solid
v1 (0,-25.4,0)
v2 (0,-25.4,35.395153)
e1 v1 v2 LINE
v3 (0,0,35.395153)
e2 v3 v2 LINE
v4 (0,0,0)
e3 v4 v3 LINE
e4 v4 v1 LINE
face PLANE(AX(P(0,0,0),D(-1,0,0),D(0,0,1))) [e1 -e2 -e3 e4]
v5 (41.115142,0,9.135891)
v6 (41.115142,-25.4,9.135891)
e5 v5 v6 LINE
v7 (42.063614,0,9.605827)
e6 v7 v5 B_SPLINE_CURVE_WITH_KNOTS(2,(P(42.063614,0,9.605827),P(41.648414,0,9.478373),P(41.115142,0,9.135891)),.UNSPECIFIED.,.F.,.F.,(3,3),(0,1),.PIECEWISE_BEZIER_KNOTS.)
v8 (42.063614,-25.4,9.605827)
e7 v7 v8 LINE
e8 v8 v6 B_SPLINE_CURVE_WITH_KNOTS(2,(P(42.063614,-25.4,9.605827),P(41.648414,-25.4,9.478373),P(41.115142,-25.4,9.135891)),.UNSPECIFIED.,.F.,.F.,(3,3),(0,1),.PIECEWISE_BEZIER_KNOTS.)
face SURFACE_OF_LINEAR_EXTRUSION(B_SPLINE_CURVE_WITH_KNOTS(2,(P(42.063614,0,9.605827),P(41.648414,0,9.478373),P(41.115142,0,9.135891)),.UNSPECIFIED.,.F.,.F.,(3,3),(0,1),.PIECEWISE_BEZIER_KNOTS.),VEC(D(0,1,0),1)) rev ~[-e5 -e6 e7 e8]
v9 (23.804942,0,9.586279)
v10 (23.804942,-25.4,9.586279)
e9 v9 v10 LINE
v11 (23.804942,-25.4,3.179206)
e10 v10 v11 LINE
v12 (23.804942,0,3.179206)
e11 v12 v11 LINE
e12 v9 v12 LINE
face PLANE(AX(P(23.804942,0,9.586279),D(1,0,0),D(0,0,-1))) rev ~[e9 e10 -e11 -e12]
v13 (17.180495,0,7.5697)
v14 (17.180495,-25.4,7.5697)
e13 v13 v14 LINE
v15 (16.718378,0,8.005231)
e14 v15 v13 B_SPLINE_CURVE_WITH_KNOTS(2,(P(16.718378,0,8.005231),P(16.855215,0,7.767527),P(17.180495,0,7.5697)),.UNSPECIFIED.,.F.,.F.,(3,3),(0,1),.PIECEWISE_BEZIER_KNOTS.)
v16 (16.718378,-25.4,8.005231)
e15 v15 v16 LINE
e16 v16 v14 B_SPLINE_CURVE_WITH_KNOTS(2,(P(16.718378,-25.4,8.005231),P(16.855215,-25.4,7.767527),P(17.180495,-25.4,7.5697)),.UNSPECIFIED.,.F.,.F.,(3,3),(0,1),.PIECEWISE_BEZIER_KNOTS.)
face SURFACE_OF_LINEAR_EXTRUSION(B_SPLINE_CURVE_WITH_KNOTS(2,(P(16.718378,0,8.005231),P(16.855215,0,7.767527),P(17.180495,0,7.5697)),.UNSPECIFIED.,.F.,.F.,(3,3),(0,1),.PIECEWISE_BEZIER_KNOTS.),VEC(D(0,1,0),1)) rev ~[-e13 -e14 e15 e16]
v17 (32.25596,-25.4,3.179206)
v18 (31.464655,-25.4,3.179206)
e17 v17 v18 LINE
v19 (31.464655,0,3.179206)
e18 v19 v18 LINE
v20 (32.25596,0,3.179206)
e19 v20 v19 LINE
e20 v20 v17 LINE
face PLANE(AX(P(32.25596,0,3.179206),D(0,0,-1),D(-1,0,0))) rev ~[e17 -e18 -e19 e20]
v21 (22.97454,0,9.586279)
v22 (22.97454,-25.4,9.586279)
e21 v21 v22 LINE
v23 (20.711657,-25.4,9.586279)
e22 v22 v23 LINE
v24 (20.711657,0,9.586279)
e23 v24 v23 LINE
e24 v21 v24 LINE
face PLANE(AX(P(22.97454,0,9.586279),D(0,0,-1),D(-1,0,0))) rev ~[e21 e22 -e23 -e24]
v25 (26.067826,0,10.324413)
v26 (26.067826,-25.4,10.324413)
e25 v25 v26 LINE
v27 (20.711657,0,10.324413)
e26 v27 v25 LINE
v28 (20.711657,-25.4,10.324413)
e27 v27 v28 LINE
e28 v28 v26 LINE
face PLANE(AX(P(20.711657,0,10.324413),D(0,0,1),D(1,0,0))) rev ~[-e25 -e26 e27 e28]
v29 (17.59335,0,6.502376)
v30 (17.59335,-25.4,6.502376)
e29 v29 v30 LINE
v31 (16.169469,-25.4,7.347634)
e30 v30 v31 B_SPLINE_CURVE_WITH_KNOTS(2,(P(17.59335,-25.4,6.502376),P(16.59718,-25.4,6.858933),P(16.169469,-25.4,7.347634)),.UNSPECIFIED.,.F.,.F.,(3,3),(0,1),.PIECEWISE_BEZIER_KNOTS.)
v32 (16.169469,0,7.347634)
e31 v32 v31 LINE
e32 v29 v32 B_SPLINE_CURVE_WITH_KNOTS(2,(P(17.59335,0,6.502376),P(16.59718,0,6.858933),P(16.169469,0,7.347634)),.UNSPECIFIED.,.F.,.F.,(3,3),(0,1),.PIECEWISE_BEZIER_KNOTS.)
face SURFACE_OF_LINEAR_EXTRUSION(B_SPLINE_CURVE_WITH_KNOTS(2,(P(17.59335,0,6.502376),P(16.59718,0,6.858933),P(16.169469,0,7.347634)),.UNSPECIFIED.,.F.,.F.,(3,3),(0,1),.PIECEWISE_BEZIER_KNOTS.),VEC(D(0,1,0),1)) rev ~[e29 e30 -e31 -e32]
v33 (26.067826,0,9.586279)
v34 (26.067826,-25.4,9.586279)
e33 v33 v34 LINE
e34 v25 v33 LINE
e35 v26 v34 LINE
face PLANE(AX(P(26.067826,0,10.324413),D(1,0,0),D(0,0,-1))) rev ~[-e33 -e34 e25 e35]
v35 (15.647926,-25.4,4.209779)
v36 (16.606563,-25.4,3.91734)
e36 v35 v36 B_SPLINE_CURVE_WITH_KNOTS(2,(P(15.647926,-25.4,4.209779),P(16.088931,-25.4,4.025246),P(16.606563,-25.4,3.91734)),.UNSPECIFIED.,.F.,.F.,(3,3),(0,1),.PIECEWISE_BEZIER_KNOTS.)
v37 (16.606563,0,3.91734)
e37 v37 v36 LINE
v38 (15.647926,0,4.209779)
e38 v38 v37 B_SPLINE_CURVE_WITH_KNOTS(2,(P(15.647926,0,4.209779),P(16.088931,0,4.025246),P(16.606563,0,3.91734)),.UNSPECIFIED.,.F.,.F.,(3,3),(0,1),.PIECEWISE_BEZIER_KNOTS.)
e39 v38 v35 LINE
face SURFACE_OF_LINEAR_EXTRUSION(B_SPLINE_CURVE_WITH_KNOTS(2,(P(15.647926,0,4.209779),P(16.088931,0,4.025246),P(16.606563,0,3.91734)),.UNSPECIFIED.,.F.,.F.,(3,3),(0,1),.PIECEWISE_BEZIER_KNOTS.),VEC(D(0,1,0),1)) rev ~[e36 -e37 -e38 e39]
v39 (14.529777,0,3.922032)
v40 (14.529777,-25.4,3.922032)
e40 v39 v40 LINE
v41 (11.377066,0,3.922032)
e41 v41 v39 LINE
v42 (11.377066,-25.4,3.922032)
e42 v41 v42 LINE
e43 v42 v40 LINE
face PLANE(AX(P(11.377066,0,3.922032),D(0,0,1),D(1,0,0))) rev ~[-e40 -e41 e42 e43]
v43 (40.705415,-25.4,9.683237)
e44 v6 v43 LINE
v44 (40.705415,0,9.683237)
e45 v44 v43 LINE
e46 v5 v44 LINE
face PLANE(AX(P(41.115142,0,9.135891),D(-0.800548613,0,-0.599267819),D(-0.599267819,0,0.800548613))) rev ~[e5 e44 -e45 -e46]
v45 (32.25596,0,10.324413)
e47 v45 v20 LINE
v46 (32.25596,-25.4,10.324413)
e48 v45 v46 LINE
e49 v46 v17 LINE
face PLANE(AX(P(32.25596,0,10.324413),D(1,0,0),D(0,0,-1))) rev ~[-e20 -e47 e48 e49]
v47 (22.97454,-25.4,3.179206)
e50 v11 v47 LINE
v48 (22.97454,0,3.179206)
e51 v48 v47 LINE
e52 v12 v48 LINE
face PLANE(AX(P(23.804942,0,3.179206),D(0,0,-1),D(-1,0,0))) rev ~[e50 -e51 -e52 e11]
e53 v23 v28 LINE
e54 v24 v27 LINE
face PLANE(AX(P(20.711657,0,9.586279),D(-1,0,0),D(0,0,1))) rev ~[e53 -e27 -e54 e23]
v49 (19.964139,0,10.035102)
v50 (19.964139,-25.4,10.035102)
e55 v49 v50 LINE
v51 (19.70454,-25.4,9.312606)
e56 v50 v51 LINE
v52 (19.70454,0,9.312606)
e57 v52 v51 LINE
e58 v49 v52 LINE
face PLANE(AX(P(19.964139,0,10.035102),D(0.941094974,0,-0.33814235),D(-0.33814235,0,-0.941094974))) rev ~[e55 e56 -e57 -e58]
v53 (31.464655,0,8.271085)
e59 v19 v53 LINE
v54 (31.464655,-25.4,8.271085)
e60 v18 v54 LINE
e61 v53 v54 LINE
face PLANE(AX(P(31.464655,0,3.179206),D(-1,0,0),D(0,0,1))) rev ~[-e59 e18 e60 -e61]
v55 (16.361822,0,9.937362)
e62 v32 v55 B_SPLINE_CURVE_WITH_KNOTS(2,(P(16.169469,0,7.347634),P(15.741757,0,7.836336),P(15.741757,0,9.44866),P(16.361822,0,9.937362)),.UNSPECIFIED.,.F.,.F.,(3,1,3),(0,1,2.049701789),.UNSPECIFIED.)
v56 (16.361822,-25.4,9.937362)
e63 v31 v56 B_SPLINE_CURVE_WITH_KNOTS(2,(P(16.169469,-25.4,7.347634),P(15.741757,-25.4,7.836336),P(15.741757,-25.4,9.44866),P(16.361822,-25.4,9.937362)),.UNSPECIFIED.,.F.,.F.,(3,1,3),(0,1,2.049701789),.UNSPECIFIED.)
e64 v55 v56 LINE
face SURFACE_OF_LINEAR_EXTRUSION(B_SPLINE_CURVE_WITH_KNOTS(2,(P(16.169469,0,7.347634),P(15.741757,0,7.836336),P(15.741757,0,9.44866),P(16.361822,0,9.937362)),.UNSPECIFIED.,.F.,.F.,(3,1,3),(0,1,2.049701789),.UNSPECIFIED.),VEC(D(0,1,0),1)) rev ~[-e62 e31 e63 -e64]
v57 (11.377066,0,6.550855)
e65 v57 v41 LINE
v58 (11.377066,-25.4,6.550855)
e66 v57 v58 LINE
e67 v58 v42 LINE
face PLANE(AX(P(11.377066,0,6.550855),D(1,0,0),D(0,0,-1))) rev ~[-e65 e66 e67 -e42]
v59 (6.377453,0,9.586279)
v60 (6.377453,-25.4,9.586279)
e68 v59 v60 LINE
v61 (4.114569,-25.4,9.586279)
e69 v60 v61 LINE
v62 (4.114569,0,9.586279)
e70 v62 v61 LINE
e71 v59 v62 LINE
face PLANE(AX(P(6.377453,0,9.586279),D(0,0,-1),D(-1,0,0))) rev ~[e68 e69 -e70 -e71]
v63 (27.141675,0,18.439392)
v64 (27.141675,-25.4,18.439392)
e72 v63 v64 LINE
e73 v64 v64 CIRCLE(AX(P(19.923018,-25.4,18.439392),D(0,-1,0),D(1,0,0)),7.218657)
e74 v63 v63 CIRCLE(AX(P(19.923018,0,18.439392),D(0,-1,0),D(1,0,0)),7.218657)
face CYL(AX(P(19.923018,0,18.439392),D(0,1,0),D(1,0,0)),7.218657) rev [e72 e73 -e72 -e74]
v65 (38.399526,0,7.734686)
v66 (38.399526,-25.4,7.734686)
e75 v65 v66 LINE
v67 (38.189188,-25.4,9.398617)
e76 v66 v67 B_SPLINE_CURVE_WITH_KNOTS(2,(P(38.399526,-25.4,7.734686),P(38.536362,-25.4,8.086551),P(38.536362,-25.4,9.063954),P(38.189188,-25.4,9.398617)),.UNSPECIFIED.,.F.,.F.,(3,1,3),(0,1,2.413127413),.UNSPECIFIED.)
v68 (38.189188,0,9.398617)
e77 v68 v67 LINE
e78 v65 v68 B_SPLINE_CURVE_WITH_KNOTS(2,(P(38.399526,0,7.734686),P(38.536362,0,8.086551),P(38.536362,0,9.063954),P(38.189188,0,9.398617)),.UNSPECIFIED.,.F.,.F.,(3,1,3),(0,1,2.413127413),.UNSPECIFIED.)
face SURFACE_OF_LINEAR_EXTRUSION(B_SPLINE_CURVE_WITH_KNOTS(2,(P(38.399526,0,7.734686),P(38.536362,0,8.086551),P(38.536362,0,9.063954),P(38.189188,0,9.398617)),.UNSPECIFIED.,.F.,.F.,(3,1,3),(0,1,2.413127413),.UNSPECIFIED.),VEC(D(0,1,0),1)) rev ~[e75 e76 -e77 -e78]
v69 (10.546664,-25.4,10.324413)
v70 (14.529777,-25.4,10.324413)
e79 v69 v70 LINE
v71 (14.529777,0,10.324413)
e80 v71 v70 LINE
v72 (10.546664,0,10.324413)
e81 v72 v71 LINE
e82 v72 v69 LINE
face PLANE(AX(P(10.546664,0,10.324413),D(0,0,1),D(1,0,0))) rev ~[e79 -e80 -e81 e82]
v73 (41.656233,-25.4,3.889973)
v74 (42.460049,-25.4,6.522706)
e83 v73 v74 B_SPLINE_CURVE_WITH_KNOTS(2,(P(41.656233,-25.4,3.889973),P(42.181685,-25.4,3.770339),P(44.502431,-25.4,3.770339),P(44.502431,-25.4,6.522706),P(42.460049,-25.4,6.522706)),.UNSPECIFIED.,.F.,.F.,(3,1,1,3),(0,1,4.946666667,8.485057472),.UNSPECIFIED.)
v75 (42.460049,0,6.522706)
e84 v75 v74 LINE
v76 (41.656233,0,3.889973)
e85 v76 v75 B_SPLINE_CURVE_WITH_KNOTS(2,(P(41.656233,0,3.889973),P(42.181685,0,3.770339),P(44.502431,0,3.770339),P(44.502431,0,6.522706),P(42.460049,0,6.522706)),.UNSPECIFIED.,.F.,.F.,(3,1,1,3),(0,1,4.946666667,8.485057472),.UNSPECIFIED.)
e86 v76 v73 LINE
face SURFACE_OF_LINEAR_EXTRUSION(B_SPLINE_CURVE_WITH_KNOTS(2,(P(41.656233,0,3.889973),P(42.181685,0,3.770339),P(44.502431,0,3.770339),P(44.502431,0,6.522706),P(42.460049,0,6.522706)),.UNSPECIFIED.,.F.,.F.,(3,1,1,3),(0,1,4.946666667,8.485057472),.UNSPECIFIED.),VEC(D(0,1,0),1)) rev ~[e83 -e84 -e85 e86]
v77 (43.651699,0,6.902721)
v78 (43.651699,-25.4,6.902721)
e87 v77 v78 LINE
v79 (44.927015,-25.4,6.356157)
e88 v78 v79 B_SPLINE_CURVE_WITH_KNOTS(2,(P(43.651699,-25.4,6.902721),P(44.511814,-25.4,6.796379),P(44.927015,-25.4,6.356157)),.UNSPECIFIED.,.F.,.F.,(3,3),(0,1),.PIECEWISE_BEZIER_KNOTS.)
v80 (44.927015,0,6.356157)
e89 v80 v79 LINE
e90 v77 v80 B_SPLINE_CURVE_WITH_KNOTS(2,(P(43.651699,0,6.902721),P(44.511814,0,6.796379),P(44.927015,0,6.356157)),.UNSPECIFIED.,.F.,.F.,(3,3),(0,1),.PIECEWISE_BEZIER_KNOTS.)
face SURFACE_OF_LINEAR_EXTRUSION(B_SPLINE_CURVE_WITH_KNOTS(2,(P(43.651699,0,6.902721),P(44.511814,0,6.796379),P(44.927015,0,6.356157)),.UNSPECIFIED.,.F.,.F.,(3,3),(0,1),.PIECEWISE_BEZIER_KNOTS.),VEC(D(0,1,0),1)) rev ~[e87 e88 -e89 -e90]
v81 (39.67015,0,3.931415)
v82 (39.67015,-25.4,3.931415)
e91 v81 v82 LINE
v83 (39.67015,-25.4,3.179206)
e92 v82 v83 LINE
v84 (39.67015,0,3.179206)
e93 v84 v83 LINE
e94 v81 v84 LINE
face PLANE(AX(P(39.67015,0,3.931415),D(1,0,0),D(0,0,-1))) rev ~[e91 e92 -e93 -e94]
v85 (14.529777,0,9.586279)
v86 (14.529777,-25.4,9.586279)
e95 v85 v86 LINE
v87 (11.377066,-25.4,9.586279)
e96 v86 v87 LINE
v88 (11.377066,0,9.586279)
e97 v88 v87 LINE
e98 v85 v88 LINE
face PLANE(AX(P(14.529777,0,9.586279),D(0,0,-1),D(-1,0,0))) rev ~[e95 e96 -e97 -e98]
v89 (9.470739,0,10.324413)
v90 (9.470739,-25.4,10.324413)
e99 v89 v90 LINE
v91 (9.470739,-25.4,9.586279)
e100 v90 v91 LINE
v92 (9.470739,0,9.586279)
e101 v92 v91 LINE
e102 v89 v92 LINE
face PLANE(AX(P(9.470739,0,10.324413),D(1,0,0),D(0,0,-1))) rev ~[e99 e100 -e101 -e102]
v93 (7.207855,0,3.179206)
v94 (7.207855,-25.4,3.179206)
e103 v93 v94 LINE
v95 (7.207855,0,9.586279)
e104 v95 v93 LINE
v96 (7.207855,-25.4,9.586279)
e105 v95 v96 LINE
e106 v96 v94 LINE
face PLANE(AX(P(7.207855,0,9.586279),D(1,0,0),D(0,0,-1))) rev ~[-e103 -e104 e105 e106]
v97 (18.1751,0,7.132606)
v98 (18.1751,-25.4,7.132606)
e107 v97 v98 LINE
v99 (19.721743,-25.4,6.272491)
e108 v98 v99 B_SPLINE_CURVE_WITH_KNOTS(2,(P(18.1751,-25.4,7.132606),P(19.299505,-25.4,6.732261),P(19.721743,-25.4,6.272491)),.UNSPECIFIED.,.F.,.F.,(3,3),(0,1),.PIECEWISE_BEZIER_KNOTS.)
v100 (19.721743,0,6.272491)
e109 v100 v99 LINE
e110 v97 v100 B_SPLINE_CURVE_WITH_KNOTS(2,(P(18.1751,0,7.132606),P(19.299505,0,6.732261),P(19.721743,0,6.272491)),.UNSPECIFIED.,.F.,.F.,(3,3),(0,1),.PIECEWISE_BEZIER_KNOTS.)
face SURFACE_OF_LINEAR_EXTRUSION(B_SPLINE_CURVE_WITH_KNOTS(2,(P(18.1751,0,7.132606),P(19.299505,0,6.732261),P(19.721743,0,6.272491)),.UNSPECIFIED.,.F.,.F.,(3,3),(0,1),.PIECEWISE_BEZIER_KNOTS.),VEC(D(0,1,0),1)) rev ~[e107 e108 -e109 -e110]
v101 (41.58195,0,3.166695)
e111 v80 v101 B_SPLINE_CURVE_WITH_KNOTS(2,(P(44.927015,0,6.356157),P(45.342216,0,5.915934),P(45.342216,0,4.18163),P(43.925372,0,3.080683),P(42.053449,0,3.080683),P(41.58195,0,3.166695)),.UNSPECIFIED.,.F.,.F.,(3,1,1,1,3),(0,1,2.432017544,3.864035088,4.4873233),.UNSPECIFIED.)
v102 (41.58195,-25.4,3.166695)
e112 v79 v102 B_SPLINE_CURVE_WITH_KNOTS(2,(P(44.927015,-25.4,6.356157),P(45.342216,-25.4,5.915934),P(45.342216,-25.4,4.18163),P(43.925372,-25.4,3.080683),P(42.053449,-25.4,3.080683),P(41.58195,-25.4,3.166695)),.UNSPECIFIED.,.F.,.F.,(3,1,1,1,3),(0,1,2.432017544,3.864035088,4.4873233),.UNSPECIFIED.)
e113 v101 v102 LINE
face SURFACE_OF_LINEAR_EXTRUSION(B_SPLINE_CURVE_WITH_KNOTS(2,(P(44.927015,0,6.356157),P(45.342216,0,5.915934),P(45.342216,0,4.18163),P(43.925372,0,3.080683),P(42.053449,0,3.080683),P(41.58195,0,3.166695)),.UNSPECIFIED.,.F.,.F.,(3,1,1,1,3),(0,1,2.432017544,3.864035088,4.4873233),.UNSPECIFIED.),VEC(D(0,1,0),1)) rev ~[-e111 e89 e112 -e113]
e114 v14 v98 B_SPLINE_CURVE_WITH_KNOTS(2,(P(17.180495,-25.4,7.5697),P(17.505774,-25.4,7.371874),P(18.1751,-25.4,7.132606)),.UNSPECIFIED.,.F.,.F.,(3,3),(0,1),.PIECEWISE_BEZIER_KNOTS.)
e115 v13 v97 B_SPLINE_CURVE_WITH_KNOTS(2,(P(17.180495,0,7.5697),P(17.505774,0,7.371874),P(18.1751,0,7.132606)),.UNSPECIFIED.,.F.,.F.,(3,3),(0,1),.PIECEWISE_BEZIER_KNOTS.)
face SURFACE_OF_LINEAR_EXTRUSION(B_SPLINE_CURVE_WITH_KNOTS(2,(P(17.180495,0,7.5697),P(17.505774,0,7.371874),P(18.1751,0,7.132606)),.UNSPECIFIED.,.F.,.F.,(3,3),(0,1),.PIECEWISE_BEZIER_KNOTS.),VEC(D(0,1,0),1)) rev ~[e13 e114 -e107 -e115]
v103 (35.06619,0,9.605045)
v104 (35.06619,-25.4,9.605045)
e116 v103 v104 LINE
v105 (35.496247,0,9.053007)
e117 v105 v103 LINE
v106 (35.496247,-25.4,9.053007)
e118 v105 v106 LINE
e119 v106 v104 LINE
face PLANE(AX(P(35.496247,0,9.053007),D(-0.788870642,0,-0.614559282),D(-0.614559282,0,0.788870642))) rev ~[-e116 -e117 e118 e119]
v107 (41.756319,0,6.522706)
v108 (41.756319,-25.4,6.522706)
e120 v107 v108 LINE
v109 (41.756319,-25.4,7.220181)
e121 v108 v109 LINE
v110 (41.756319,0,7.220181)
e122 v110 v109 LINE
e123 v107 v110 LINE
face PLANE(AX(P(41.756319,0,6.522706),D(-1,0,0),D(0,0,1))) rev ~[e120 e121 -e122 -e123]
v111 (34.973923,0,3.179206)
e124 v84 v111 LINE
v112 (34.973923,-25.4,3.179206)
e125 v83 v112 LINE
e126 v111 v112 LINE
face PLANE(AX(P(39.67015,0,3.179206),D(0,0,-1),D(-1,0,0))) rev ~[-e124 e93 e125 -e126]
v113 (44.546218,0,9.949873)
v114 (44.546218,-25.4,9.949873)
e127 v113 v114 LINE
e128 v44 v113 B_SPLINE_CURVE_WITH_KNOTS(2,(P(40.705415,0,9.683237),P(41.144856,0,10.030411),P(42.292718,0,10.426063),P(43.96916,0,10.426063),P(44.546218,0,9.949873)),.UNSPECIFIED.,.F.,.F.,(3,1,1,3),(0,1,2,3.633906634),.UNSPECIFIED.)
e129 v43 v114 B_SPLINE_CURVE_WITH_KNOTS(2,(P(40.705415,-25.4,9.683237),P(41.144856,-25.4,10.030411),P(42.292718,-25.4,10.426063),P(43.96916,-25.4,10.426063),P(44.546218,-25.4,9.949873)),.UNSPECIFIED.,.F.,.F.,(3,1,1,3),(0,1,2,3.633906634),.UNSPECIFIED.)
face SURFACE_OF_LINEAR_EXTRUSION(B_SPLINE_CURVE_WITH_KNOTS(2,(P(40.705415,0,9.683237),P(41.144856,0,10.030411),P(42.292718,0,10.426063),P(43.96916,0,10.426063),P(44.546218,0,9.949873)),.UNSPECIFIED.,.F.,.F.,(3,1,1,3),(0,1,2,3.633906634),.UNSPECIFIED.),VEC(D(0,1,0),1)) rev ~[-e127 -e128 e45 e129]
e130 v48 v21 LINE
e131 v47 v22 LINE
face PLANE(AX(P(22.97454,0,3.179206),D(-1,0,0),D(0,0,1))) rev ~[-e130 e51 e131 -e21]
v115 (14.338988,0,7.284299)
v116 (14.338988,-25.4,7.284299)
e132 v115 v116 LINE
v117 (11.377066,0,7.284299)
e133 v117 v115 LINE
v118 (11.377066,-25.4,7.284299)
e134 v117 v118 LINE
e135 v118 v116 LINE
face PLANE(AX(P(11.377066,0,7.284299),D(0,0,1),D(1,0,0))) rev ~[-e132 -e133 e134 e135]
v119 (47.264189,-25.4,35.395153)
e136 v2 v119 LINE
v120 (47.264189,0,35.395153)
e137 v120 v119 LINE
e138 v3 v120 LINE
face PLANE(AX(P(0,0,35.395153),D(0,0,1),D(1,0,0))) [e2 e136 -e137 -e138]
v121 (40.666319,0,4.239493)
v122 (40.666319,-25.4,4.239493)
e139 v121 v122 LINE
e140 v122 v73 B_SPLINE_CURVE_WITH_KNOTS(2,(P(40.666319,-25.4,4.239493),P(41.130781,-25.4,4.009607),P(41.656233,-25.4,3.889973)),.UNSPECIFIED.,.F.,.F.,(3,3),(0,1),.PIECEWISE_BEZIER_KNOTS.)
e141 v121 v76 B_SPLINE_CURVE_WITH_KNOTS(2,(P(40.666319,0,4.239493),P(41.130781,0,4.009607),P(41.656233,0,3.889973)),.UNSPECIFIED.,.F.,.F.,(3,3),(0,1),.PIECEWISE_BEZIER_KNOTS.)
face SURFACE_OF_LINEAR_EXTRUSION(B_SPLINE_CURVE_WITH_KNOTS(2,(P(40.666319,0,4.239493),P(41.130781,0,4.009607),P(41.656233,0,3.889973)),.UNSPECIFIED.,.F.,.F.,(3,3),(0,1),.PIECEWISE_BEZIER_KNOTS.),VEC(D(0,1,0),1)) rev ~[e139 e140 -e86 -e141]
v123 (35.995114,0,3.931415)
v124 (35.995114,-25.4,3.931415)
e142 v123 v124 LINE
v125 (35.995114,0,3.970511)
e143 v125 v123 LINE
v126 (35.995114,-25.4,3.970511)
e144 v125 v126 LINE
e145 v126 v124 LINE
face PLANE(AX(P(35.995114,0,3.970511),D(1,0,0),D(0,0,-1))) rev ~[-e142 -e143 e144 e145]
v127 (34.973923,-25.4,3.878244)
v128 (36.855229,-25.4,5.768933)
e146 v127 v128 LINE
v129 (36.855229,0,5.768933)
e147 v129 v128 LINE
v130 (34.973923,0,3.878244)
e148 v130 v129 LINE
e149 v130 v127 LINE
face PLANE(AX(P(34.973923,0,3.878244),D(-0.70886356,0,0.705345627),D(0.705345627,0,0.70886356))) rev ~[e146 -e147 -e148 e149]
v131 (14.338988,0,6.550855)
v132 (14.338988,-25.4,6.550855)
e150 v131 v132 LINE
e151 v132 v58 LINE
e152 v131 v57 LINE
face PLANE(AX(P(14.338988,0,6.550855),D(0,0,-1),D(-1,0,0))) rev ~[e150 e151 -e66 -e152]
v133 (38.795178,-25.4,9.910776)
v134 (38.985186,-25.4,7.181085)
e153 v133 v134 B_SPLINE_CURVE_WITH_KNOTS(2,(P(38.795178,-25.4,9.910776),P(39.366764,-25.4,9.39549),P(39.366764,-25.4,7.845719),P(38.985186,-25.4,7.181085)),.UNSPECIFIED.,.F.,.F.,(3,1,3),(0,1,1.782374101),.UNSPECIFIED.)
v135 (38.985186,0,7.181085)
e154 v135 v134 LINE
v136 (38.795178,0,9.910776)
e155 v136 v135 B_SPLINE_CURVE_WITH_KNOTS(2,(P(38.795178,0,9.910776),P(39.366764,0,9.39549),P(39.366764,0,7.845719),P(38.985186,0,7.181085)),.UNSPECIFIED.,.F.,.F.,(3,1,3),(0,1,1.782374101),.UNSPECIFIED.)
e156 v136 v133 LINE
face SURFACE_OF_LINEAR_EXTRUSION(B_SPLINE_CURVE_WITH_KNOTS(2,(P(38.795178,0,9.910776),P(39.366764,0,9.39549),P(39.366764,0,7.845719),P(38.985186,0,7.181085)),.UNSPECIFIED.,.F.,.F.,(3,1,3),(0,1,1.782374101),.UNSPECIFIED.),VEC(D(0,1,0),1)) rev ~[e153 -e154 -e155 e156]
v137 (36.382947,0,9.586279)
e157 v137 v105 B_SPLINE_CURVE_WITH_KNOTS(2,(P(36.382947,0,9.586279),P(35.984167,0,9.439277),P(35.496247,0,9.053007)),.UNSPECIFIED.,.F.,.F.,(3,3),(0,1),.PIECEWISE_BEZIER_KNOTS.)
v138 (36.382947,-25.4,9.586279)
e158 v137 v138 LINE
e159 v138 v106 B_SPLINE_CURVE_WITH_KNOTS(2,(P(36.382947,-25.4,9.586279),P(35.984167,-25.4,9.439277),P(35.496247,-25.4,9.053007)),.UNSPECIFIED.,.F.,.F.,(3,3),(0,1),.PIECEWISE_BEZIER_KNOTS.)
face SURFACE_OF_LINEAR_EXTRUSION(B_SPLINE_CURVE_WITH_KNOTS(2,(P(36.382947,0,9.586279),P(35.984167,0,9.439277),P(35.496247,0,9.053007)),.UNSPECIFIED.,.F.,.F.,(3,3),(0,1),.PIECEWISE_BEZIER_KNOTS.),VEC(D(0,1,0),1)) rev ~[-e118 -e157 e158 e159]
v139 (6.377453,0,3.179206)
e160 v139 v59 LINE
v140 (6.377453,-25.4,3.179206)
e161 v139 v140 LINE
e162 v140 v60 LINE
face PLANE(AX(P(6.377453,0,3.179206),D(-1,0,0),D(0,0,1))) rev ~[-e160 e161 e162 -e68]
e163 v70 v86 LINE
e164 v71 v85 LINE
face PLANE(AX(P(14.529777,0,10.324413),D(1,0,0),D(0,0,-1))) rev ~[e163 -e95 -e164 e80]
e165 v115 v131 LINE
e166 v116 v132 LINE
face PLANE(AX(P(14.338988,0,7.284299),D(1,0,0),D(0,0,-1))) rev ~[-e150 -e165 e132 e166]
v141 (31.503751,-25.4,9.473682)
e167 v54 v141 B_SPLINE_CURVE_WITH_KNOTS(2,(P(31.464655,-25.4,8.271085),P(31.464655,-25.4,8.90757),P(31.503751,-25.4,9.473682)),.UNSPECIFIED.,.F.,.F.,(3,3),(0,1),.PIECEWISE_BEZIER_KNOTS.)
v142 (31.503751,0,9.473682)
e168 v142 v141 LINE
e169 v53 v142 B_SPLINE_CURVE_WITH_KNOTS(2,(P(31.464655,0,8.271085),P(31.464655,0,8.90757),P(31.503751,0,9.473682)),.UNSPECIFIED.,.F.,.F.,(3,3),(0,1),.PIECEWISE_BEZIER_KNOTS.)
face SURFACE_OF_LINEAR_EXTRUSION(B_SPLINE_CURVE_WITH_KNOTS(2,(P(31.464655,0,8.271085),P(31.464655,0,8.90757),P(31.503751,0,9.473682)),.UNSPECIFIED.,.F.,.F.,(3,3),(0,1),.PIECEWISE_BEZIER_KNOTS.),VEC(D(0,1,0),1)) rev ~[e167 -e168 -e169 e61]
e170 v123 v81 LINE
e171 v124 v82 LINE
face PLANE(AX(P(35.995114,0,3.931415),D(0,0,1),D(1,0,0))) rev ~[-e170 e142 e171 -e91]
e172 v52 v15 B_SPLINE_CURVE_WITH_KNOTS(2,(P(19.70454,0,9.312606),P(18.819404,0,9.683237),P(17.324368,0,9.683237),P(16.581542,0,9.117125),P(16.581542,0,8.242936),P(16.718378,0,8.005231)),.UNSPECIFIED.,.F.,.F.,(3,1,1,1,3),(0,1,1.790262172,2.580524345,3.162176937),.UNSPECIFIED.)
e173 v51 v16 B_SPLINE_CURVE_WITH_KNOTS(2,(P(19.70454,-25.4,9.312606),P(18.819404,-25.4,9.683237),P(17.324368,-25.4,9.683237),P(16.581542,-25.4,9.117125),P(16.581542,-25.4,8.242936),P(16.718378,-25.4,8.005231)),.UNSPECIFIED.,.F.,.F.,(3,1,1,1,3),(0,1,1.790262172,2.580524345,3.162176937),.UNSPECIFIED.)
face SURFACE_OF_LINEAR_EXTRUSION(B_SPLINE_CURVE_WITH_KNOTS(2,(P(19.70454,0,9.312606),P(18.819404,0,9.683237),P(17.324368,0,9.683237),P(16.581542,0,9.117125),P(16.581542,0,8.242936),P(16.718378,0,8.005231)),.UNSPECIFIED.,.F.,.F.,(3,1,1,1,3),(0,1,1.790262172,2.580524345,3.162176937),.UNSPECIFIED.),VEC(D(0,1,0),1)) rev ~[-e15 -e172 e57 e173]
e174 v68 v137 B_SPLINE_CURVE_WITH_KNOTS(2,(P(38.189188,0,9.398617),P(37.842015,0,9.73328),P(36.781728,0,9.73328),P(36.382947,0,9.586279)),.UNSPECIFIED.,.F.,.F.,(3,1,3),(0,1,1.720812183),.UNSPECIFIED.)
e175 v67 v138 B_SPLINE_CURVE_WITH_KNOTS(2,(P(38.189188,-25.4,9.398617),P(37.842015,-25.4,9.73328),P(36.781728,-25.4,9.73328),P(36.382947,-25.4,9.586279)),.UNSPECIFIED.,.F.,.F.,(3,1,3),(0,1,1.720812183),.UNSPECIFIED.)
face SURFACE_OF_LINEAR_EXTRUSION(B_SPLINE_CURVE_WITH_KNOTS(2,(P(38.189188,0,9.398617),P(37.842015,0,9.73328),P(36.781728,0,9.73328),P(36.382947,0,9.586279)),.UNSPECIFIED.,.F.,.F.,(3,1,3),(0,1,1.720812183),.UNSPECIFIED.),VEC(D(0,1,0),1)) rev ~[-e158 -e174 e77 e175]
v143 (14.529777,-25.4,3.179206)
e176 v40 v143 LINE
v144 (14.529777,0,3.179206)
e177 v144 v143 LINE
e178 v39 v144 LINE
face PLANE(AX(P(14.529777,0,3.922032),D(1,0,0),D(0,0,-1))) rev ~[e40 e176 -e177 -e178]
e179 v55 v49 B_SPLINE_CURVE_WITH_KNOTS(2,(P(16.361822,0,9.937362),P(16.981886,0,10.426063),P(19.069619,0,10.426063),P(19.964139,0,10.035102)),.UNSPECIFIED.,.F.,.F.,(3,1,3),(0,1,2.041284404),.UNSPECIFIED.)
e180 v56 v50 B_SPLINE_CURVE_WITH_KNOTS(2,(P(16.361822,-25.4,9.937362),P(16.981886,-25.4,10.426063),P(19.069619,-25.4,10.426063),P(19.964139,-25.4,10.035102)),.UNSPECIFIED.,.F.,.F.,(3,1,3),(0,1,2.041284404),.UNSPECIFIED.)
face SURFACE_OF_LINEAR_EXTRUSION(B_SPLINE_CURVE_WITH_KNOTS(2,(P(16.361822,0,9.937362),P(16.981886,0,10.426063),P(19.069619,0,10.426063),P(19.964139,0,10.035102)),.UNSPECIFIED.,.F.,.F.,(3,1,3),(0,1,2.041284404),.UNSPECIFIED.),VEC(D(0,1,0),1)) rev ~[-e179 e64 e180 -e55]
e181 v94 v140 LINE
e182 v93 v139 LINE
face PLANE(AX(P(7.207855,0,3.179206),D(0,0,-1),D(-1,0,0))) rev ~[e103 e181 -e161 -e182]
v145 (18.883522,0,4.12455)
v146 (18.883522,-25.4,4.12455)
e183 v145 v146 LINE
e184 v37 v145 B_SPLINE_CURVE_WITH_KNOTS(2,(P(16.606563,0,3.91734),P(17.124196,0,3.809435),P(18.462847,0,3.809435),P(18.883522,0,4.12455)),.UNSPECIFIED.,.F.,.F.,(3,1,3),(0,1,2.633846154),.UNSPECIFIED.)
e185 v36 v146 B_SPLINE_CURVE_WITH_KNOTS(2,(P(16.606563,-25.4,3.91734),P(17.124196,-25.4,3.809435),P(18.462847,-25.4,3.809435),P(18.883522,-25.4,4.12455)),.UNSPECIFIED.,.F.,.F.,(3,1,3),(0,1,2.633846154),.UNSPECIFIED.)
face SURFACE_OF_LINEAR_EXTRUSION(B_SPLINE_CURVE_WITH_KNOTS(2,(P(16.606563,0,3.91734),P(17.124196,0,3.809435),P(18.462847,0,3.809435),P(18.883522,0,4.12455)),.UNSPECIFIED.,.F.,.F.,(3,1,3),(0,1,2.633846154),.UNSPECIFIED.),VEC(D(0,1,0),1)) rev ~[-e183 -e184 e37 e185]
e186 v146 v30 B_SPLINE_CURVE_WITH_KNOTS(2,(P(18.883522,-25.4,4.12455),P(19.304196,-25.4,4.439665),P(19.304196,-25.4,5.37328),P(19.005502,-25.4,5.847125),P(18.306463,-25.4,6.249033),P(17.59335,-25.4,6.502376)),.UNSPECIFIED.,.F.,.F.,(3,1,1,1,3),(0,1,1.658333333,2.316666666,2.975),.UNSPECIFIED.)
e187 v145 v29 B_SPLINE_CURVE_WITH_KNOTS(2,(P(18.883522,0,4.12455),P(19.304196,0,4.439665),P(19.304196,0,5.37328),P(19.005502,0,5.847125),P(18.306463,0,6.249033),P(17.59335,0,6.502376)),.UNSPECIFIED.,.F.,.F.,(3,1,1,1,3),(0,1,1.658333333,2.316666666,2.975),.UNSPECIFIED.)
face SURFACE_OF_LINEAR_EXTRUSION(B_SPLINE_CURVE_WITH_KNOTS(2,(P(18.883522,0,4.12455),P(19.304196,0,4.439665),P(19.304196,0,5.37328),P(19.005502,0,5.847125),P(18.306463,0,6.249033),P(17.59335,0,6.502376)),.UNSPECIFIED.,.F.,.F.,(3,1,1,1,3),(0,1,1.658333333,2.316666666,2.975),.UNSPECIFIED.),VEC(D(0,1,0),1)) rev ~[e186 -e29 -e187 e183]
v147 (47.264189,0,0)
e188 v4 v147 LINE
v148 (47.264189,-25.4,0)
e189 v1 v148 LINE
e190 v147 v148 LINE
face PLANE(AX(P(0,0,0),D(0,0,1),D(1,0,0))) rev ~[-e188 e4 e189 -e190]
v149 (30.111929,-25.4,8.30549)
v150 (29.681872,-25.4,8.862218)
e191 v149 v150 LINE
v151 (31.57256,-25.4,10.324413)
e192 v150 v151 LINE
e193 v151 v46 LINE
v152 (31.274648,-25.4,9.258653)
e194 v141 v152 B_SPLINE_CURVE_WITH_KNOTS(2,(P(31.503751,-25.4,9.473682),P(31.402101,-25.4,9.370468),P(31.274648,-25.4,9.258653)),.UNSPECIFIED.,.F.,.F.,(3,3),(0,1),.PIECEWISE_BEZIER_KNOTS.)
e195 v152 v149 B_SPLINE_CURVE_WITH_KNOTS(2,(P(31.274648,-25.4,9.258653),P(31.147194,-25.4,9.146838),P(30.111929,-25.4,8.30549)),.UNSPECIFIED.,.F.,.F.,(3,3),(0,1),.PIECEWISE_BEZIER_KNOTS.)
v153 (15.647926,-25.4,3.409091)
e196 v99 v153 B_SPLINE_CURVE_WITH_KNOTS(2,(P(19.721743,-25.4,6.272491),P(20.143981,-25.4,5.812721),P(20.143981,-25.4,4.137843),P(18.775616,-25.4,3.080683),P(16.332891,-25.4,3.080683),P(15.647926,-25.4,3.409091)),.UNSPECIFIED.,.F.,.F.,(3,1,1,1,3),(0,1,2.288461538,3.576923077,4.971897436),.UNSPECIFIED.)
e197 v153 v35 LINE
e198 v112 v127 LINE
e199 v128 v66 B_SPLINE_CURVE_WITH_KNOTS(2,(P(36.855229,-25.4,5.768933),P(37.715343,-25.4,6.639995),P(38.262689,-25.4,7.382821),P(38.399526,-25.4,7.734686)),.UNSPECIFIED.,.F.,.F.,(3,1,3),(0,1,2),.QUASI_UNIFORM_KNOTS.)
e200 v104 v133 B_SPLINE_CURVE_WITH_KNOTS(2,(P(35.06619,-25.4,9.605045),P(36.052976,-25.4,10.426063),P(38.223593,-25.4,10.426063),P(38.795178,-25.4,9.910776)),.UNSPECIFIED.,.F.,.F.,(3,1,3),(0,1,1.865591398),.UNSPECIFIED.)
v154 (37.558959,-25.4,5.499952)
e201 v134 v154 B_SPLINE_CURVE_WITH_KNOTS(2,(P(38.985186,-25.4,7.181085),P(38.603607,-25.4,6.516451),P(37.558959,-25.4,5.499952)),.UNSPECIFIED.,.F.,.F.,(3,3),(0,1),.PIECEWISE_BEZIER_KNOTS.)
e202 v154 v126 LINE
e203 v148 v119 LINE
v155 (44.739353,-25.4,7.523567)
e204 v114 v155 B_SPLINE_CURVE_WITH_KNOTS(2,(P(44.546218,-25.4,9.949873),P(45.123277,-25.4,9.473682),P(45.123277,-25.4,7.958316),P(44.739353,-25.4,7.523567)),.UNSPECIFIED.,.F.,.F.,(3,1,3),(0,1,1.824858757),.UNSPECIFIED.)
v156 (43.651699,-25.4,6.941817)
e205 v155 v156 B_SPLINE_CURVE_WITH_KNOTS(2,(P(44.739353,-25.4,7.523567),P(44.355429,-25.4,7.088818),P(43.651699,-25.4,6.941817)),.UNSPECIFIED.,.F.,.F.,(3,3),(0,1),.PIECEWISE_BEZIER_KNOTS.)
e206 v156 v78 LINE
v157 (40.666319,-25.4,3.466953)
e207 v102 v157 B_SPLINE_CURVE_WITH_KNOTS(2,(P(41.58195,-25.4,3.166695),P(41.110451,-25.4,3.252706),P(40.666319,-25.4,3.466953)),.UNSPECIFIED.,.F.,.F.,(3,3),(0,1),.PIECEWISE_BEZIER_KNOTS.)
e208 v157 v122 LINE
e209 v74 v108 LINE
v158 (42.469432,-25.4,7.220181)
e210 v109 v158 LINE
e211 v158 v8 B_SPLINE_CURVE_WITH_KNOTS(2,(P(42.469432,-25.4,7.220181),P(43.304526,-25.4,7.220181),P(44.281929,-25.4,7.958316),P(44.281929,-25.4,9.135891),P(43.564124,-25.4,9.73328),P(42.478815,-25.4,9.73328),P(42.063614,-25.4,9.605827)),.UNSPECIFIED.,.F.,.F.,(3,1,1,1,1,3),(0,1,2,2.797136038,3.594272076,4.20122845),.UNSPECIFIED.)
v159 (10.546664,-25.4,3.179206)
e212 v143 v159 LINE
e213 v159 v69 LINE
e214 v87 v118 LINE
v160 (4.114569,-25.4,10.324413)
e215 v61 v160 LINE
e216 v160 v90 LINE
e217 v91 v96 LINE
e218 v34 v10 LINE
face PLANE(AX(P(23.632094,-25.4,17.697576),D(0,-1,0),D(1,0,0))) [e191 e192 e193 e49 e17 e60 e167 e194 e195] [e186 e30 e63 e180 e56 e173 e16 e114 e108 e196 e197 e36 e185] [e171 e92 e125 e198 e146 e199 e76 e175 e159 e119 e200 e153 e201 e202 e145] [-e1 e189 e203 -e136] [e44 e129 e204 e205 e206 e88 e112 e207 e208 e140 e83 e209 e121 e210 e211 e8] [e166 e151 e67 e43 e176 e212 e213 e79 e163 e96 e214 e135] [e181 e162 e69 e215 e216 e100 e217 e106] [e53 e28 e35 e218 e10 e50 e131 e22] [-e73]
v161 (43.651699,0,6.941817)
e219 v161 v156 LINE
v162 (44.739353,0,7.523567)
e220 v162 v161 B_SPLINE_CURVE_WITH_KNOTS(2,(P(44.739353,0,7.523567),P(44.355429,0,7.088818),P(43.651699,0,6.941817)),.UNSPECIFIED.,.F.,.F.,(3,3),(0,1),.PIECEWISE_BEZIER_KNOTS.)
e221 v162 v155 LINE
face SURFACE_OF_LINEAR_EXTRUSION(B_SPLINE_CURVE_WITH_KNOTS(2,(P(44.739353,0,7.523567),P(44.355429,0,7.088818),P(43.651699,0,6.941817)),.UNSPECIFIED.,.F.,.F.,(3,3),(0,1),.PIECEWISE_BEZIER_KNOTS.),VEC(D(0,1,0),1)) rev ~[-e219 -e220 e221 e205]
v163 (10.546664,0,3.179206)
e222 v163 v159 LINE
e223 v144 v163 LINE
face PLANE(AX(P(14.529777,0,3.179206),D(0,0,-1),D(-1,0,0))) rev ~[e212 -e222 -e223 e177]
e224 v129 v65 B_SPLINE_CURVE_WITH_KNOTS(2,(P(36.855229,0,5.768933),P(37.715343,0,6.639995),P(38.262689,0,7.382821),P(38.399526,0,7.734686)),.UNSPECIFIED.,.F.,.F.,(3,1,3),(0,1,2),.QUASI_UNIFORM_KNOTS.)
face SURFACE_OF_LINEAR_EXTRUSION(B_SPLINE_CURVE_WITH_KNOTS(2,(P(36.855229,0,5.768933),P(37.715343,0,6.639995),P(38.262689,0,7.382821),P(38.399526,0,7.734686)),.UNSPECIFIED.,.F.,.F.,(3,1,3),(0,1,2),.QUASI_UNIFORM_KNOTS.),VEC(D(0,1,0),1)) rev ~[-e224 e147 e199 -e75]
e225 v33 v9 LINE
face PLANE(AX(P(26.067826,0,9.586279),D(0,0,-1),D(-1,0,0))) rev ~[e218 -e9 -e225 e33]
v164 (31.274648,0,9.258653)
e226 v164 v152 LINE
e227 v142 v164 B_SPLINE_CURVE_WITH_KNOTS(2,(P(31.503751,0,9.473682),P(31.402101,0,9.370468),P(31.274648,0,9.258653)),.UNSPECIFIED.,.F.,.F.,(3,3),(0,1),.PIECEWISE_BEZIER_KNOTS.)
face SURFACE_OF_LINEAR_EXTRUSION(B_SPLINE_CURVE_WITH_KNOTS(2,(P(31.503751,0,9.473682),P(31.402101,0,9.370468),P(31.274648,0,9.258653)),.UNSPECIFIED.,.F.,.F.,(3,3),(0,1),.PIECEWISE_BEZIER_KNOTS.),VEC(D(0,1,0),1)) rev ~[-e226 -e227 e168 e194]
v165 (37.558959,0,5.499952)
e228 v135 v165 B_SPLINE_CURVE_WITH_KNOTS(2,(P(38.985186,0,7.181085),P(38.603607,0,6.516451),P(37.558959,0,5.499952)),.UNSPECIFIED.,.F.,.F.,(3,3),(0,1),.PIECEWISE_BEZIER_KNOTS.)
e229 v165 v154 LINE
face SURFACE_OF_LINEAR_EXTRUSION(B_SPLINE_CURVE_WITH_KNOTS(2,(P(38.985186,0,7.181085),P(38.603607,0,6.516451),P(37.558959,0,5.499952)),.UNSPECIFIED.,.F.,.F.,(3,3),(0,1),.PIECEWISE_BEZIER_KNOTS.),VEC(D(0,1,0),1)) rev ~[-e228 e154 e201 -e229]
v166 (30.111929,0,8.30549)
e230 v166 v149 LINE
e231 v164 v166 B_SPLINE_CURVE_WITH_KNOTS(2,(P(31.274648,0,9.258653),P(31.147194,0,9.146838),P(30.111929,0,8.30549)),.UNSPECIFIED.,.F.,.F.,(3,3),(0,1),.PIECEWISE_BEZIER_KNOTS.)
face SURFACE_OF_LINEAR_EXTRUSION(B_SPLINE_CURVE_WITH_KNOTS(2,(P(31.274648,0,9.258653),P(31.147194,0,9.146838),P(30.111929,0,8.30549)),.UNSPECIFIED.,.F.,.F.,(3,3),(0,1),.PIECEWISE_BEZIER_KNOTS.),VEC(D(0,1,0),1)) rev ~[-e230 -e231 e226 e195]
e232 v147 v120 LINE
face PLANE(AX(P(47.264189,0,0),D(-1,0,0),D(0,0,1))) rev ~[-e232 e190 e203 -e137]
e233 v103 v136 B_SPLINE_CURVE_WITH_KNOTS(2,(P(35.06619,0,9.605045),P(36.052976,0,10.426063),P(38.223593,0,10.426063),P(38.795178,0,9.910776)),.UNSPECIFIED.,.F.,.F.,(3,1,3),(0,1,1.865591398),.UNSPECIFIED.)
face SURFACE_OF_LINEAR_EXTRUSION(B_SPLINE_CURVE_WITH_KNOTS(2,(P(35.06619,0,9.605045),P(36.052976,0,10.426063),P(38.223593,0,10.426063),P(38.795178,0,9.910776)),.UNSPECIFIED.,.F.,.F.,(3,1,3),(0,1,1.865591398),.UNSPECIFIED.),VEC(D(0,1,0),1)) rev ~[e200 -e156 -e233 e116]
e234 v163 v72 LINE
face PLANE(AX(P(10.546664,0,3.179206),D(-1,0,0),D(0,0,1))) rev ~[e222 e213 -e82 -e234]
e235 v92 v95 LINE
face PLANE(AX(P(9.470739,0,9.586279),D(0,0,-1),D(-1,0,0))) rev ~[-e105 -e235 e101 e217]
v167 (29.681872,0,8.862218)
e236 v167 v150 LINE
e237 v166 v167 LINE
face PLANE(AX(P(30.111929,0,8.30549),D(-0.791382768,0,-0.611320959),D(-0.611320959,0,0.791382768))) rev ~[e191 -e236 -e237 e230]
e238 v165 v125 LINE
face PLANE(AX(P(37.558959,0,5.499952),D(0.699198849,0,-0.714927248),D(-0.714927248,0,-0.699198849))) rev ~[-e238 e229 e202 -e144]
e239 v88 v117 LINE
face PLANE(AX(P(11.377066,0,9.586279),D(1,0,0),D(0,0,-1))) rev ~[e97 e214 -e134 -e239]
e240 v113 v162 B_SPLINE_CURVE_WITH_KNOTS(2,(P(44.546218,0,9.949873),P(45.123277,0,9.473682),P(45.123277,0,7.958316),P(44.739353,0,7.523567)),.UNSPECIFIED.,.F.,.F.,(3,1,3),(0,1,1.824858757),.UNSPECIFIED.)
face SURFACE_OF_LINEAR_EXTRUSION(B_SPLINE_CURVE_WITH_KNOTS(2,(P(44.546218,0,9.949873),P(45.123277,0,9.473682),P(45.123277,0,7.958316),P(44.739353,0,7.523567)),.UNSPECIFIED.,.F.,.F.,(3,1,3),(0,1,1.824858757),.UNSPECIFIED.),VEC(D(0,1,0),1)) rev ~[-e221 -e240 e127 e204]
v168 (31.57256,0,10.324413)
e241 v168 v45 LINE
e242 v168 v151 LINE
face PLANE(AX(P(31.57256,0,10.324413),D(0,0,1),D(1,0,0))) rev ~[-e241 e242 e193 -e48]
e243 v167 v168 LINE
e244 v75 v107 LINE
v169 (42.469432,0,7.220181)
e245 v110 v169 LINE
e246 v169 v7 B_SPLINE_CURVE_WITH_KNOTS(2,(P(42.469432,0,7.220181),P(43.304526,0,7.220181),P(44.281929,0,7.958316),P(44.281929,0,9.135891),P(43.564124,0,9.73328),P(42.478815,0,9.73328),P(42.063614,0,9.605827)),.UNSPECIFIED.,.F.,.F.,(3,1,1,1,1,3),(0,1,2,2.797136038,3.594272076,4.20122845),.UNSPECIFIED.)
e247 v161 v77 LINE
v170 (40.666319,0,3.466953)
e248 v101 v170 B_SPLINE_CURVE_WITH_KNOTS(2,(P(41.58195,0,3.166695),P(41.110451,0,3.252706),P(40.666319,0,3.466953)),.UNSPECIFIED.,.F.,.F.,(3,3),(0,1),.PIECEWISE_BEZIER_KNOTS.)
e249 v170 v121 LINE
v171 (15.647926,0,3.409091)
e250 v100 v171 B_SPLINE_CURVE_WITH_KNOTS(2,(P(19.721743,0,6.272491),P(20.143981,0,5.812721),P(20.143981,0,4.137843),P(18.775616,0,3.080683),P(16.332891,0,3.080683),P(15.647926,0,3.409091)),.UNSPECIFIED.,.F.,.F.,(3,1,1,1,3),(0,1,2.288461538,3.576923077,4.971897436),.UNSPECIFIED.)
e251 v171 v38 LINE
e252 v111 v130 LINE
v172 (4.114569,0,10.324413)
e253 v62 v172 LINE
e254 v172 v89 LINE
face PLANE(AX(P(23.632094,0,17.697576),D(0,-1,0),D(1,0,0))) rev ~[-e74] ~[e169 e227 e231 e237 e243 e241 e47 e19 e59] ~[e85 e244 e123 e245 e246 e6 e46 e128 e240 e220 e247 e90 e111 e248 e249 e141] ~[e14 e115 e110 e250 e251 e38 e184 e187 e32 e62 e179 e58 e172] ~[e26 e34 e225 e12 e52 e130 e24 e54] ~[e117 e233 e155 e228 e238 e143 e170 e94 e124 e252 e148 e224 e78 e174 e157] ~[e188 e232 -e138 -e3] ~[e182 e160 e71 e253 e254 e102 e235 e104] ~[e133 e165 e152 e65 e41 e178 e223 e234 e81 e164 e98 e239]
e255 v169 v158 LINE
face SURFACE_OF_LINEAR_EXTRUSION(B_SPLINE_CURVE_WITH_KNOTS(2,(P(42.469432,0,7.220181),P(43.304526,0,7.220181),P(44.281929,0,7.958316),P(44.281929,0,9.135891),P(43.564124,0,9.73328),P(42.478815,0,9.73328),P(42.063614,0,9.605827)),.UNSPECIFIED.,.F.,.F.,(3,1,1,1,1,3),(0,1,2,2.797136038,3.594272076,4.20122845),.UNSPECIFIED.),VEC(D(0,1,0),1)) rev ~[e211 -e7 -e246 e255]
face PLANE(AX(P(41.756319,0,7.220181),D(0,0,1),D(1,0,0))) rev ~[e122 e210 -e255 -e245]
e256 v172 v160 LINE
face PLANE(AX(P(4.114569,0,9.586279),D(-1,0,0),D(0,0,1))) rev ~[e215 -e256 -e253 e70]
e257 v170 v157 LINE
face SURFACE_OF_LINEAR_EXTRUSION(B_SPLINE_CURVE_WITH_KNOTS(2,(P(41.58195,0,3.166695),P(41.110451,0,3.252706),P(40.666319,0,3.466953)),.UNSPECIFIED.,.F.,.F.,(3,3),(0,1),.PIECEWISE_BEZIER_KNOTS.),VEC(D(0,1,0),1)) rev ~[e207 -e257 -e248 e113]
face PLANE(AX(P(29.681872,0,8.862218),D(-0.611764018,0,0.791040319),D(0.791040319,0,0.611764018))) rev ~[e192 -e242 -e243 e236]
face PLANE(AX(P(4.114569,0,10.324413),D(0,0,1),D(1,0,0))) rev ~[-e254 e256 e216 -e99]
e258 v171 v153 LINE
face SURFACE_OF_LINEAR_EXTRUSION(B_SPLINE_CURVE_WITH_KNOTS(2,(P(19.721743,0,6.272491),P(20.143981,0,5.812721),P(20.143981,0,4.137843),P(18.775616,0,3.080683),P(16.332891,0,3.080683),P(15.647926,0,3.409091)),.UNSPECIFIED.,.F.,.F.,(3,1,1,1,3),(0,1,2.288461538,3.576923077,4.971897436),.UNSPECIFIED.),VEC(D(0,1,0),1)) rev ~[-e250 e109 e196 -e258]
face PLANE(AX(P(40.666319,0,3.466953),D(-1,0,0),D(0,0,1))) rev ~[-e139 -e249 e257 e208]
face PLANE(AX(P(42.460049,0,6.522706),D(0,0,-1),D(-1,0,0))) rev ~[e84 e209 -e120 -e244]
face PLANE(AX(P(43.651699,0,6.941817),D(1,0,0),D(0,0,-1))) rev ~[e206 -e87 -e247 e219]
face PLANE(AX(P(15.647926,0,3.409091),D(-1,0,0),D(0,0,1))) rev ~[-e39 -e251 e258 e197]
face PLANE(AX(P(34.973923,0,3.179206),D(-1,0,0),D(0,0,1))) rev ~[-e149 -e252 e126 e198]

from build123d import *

# Parameters (mm, degrees)
F0_W     = 47.2641885281
F0_H     = 35.3951528668
F0_R     = 7.2186571731
F1_DEPTH = 25.4


with BuildPart() as f1:
    # F0 (on Front) → F1 (new body)
    with BuildSketch(Plane.XZ):
        with Locations((23.632094264, 17.6975764334)):
            Rectangle(F0_W, F0_H)
        Polygon((7.2078548692, 9.5862786071), (7.2078548692, 3.1792055815), (6.3774531664, 3.1792055815), (6.3774531664, 9.5862786071), (4.11456943, 9.5862786071), (4.11456943, 10.324413454), (9.4707386056, 10.324413454), (9.4707386056, 9.5862786071), align=None, mode=Mode.SUBTRACT)
        Polygon((14.5297772283, 3.9220319636), (14.5297772283, 3.1792055815), (10.5466639757, 3.1792055815), (10.5466639757, 10.324413454), (14.5297772283, 10.324413454), (14.5297772283, 9.5862786071), (11.3770656786, 9.5862786071), (11.3770656786, 7.2842987453), (14.3389881365, 7.2842987453), (14.3389881365, 6.5508554334), (11.3770656786, 6.5508554334), (11.3770656786, 3.9220319636), align=None, mode=Mode.SUBTRACT)
        with BuildLine():
            add(Edge.make_bspline(
                [(19.7217426774, 6.2724910208), (20.1439808314, 5.8127205864), (20.1439808314, 5.0808411195)],
                knots=[0, 0, 0, 1, 1, 1], degree=2))
            add(Edge.make_bspline(
                [(20.1439808314, 5.0808411195), (20.1439808314, 4.1378425756), (19.4597986374, 3.6092629606)],
                knots=[0, 0, 0, 1, 1, 1], degree=2))
            add(Edge.make_bspline(
                [(19.4597986374, 3.6092629606), (18.7756164434, 3.0806833456), (17.6027326824, 3.0806833456)],
                knots=[0, 0, 0, 1, 1, 1], degree=2))
            add(Edge.make_bspline(
                [(17.6027326824, 3.0806833456), (16.3328905304, 3.0806833456), (15.6479264139, 3.4090907987)],
                knots=[0, 0, 0, 1, 1, 1], degree=2))
            Line((15.6479264139, 3.4090907987), (15.6479264139, 4.2097794463))
            add(Edge.make_bspline(
                [(15.6479264139, 4.2097794463), (16.0889307081, 4.0252457345), (16.606563408, 3.9173404285)],
                knots=[0, 0, 0, 1, 1, 1], degree=2))
            add(Edge.make_bspline(
                [(16.606563408, 3.9173404285), (17.1241961078, 3.8094351225), (17.6324457376, 3.8094351225)],
                knots=[0, 0, 0, 1, 1, 1], degree=2))
            add(Edge.make_bspline(
                [(17.6324457376, 3.8094351225), (18.4628474405, 3.8094351225), (18.8835217495, 4.124549893)],
                knots=[0, 0, 0, 1, 1, 1], degree=2))
            add(Edge.make_bspline(
                [(18.8835217495, 4.124549893), (19.3041960584, 4.4396646634), (19.3041960584, 5.0026488688)],
                knots=[0, 0, 0, 1, 1, 1], degree=2))
            add(Edge.make_bspline(
                [(19.3041960584, 5.0026488688), (19.3041960584, 5.3732801373), (19.1548488595, 5.610202657)],
                knots=[0, 0, 0, 1, 1, 1], degree=2))
            add(Edge.make_bspline(
                [(19.1548488595, 5.610202657), (19.0055016606, 5.8471251767), (18.6559822998, 6.0480792611)],
                knots=[0, 0, 0, 1, 1, 1], degree=2))
            add(Edge.make_bspline(
                [(18.6559822998, 6.0480792611), (18.306462939, 6.2490333455), (17.5933496123, 6.5023762379)],
                knots=[0, 0, 0, 1, 1, 1], degree=2))
            add(Edge.make_bspline(
                [(17.5933496123, 6.5023762379), (16.5971803379, 6.8589329013), (16.1694687263, 7.3476344684)],
                knots=[0, 0, 0, 1, 1, 1], degree=2))
            add(Edge.make_bspline(
                [(16.1694687263, 7.3476344684), (15.7417571148, 7.8363360355), (15.7417571148, 8.622950078)],
                knots=[0, 0, 0, 1, 1, 1], degree=2))
            add(Edge.make_bspline(
                [(15.7417571148, 8.622950078), (15.7417571148, 9.4486602458), (16.3618216631, 9.9373618129)],
                knots=[0, 0, 0, 1, 1, 1], degree=2))
            add(Edge.make_bspline(
                [(16.3618216631, 9.9373618129), (16.9818862115, 10.42606338), (18.0046408512, 10.42606338)],
                knots=[0, 0, 0, 1, 1, 1], degree=2))
            add(Edge.make_bspline(
                [(18.0046408512, 10.42606338), (19.0696193062, 10.42606338), (19.9641386547, 10.0351021263)],
                knots=[0, 0, 0, 1, 1, 1], degree=2))
            Line((19.9641386547, 10.0351021263), (19.7045403822, 9.3126057295))
            add(Edge.make_bspline(
                [(19.7045403822, 9.3126057295), (18.8194041039, 9.683236998), (17.984310866, 9.683236998)],
                knots=[0, 0, 0, 1, 1, 1], degree=2))
            add(Edge.make_bspline(
                [(17.984310866, 9.683236998), (17.3243682697, 9.683236998), (16.9529550787, 9.4001810503)],
                knots=[0, 0, 0, 1, 1, 1], degree=2))
            add(Edge.make_bspline(
                [(16.9529550787, 9.4001810503), (16.5815418877, 9.1171251026), (16.5815418877, 8.6135670079)],
                knots=[0, 0, 0, 1, 1, 1], degree=2))
            add(Edge.make_bspline(
                [(16.5815418877, 8.6135670079), (16.5815418877, 8.2429357394), (16.7183783265, 8.0052312971)],
                knots=[0, 0, 0, 1, 1, 1], degree=2))
            add(Edge.make_bspline(
                [(16.7183783265, 8.0052312971), (16.8552147653, 7.7675268549), (17.1804945284, 7.5697004605)],
                knots=[0, 0, 0, 1, 1, 1], degree=2))
            add(Edge.make_bspline(
                [(17.1804945284, 7.5697004605), (17.5057742914, 7.3718740661), (18.1750999578, 7.1326057789)],
                knots=[0, 0, 0, 1, 1, 1], degree=2))
            add(Edge.make_bspline(
                [(18.1750999578, 7.1326057789), (19.2995045234, 6.7322614551), (19.7217426774, 6.2724910208)],
                knots=[0, 0, 0, 1, 1, 1], degree=2))
        make_face(mode=Mode.SUBTRACT)
        Polygon((23.8049420109, 9.5862786071), (23.8049420109, 3.1792055815), (22.9745403081, 3.1792055815), (22.9745403081, 9.5862786071), (20.7116565717, 9.5862786071), (20.7116565717, 10.324413454), (26.0678257473, 10.324413454), (26.0678257473, 9.5862786071), align=None, mode=Mode.SUBTRACT)
        with BuildLine():
            Line((32.2559604707, 10.324413454), (32.2559604707, 3.1792055815))
            Line((32.2559604707, 3.1792055815), (31.4646548933, 3.1792055815))
            Line((31.4646548933, 3.1792055815), (31.4646548933, 8.2710849496))
            add(Edge.make_bspline(
                [(31.4646548933, 8.2710849496), (31.4646548933, 8.9075698706), (31.5037510186, 9.473681766)],
                knots=[0, 0, 0, 1, 1, 1], degree=2))
            add(Edge.make_bspline(
                [(31.5037510186, 9.473681766), (31.4021010927, 9.370467995), (31.274647724, 9.2586530765)],
                knots=[0, 0, 0, 1, 1, 1], degree=2))
            add(Edge.make_bspline(
                [(31.274647724, 9.2586530765), (31.1471943553, 9.1468381579), (30.1119289555, 8.30548954)],
                knots=[0, 0, 0, 1, 1, 1], degree=2))
            Line((30.1119289555, 8.30548954), (29.6818715764, 8.8622183652))
            Line((29.6818715764, 8.8622183652), (31.5725601993, 10.324413454))
            Line((31.5725601993, 10.324413454), (32.2559604707, 10.324413454))
        make_face(mode=Mode.SUBTRACT)
        with BuildLine():
            Line((39.6701496858, 3.9314150336), (39.6701496858, 3.1792055815))
            Line((39.6701496858, 3.1792055815), (34.9739231064, 3.1792055815))
            Line((34.9739231064, 3.1792055815), (34.9739231064, 3.8782443031))
            Line((34.9739231064, 3.8782443031), (36.8552286592, 5.768932926))
            add(Edge.make_bspline(
                [(36.8552286592, 5.768932926), (37.7153434173, 6.6399945992), (37.9890162949, 7.0114077902)],
                knots=[0, 0, 0, 1, 1, 1], degree=2))
            add(Edge.make_bspline(
                [(37.9890162949, 7.0114077902), (38.2626891725, 7.3828209812), (38.3995256113, 7.7346861096)],
                knots=[0, 0, 0, 1, 1, 1], degree=2))
            add(Edge.make_bspline(
                [(38.3995256113, 7.7346861096), (38.5363620501, 8.0865512379), (38.5363620501, 8.4915870967)],
                knots=[0, 0, 0, 1, 1, 1], degree=2))
            add(Edge.make_bspline(
                [(38.5363620501, 8.4915870967), (38.5363620501, 9.0639543721), (38.1891884568, 9.3986172053)],
                knots=[0, 0, 0, 1, 1, 1], degree=2))
            add(Edge.make_bspline(
                [(38.1891884568, 9.3986172053), (37.8420148635, 9.7332800384), (37.2258599277, 9.7332800384)],
                knots=[0, 0, 0, 1, 1, 1], degree=2))
            add(Edge.make_bspline(
                [(37.2258599277, 9.7332800384), (36.7817279435, 9.7332800384), (36.3829474647, 9.5862786071)],
                knots=[0, 0, 0, 1, 1, 1], degree=2))
            add(Edge.make_bspline(
                [(36.3829474647, 9.5862786071), (35.984166986, 9.4392771757), (35.4962473413, 9.053007457)],
                knots=[0, 0, 0, 1, 1, 1], degree=2))
            Line((35.4962473413, 9.053007457), (35.0661899623, 9.6050447472))
            add(Edge.make_bspline(
                [(35.0661899623, 9.6050447472), (36.0529761666, 10.42606338), (37.2164768576, 10.42606338)],
                knots=[0, 0, 0, 1, 1, 1], degree=2))
            add(Edge.make_bspline(
                [(37.2164768576, 10.42606338), (38.2235930471, 10.42606338), (38.7951784, 9.9107764476)],
                knots=[0, 0, 0, 1, 1, 1], degree=2))
            add(Edge.make_bspline(
                [(38.7951784, 9.9107764476), (39.3667637529, 9.3954895153), (39.3667637529, 8.525991687)],
                knots=[0, 0, 0, 1, 1, 1], degree=2))
            add(Edge.make_bspline(
                [(39.3667637529, 8.525991687), (39.3667637529, 7.8457191056), (38.9851855693, 7.1810849743)],
                knots=[0, 0, 0, 1, 1, 1], degree=2))
            add(Edge.make_bspline(
                [(38.9851855693, 7.1810849743), (38.6036073857, 6.5164508431), (37.5589589158, 5.4999515835)],
                knots=[0, 0, 0, 1, 1, 1], degree=2))
            Line((37.5589589158, 5.4999515835), (35.9951139011, 3.970511159))
            Line((35.9951139011, 3.970511159), (35.9951139011, 3.9314150336))
            Line((35.9951139011, 3.9314150336), (39.6701496858, 3.9314150336))
        make_face(mode=Mode.SUBTRACT)
        with BuildLine():
            add(Edge.make_bspline(
                [(44.5462184418, 9.949872573), (45.1232772523, 9.473681766), (45.1232772523, 8.6432800631)],
                knots=[0, 0, 0, 1, 1, 1], degree=2))
            add(Edge.make_bspline(
                [(45.1232772523, 8.6432800631), (45.1232772523, 7.9583159467), (44.7393533011, 7.5235670326)],
                knots=[0, 0, 0, 1, 1, 1], degree=2))
            add(Edge.make_bspline(
                [(44.7393533011, 7.5235670326), (44.35542935, 7.0888181185), (43.6516990934, 6.9418166871)],
                knots=[0, 0, 0, 1, 1, 1], degree=2))
            Line((43.6516990934, 6.9418166871), (43.6516990934, 6.9027205617))
            add(Edge.make_bspline(
                [(43.6516990934, 6.9027205617), (44.5118138515, 6.7963791007), (44.9270147029, 6.356156729)],
                knots=[0, 0, 0, 1, 1, 1], degree=2))
            add(Edge.make_bspline(
                [(44.9270147029, 6.356156729), (45.3422155543, 5.9159343574), (45.3422155543, 5.2028210307)],
                knots=[0, 0, 0, 1, 1, 1], degree=2))
            add(Edge.make_bspline(
                [(45.3422155543, 5.2028210307), (45.3422155543, 4.181630236), (44.6337937626, 3.6311567908)],
                knots=[0, 0, 0, 1, 1, 1], degree=2))
            add(Edge.make_bspline(
                [(44.6337937626, 3.6311567908), (43.9253719709, 3.0806833456), (42.6211252286, 3.0806833456)],
                knots=[0, 0, 0, 1, 1, 1], degree=2))
            add(Edge.make_bspline(
                [(42.6211252286, 3.0806833456), (42.0534494883, 3.0806833456), (41.5819502163, 3.1666948214)],
                knots=[0, 0, 0, 1, 1, 1], degree=2))
            add(Edge.make_bspline(
                [(41.5819502163, 3.1666948214), (41.1104509444, 3.2527062972), (40.6663189602, 3.4669530643)],
                knots=[0, 0, 0, 1, 1, 1], degree=2))
            Line((40.6663189602, 3.4669530643), (40.6663189602, 4.2394925016))
            add(Edge.make_bspline(
                [(40.6663189602, 4.2394925016), (41.1307809296, 4.0096072844), (41.6562328545, 3.8899731408)],
                knots=[0, 0, 0, 1, 1, 1], degree=2))
            add(Edge.make_bspline(
                [(41.6562328545, 3.8899731408), (42.1816847795, 3.7703389971), (42.6508382839, 3.7703389971)],
                knots=[0, 0, 0, 1, 1, 1], degree=2))
            add(Edge.make_bspline(
                [(42.6508382839, 3.7703389971), (44.5024307814, 3.7703389971), (44.5024307814, 5.2215871708)],
                knots=[0, 0, 0, 1, 1, 1], degree=2))
            add(Edge.make_bspline(
                [(44.5024307814, 5.2215871708), (44.5024307814, 6.5227062231), (42.4600491921, 6.5227062231)],
                knots=[0, 0, 0, 1, 1, 1], degree=2))
            Line((42.4600491921, 6.5227062231), (41.7563189355, 6.5227062231))
            Line((41.7563189355, 6.5227062231), (41.7563189355, 7.2201810997))
            Line((41.7563189355, 7.2201810997), (42.4694322622, 7.2201810997))
            add(Edge.make_bspline(
                [(42.4694322622, 7.2201810997), (43.3045255001, 7.2201810997), (43.7932270672, 7.5892485232)],
                knots=[0, 0, 0, 1, 1, 1], degree=2))
            add(Edge.make_bspline(
                [(43.7932270672, 7.5892485232), (44.2819286343, 7.9583159467), (44.2819286343, 8.6135670079)],
                knots=[0, 0, 0, 1, 1, 1], degree=2))
            add(Edge.make_bspline(
                [(44.2819286343, 8.6135670079), (44.2819286343, 9.1358912428), (43.9230262034, 9.4345856406)],
                knots=[0, 0, 0, 1, 1, 1], degree=2))
            add(Edge.make_bspline(
                [(43.9230262034, 9.4345856406), (43.5641237725, 9.7332800384), (42.9479688367, 9.7332800384)],
                knots=[0, 0, 0, 1, 1, 1], degree=2))
            add(Edge.make_bspline(
                [(42.9479688367, 9.7332800384), (42.4788153323, 9.7332800384), (42.0636144809, 9.6058266697)],
                knots=[0, 0, 0, 1, 1, 1], degree=2))
            add(Edge.make_bspline(
                [(42.0636144809, 9.6058266697), (41.6484136294, 9.478373301), (41.1151424794, 9.1358912428)],
                knots=[0, 0, 0, 1, 1, 1], degree=2))
            Line((41.1151424794, 9.1358912428), (40.7054150855, 9.683236998))
            add(Edge.make_bspline(
                [(40.7054150855, 9.683236998), (41.1448555347, 10.0304105912), (41.7187866551, 10.2282369856)],
                knots=[0, 0, 0, 1, 1, 1], degree=2))
            add(Edge.make_bspline(
                [(41.7187866551, 10.2282369856), (42.2927177755, 10.42606338), (42.9292026965, 10.42606338)],
                knots=[0, 0, 0, 1, 1, 1], degree=2))
            add(Edge.make_bspline(
                [(42.9292026965, 10.42606338), (43.9691596314, 10.42606338), (44.5462184418, 9.949872573)],
                knots=[0, 0, 0, 1, 1, 1], degree=2))
        make_face(mode=Mode.SUBTRACT)
        with Locations((19.9230182916, 18.4393916279)):
            Circle(F0_R, mode=Mode.SUBTRACT)
    extrude(amount=F1_DEPTH)


solid = f1.part
